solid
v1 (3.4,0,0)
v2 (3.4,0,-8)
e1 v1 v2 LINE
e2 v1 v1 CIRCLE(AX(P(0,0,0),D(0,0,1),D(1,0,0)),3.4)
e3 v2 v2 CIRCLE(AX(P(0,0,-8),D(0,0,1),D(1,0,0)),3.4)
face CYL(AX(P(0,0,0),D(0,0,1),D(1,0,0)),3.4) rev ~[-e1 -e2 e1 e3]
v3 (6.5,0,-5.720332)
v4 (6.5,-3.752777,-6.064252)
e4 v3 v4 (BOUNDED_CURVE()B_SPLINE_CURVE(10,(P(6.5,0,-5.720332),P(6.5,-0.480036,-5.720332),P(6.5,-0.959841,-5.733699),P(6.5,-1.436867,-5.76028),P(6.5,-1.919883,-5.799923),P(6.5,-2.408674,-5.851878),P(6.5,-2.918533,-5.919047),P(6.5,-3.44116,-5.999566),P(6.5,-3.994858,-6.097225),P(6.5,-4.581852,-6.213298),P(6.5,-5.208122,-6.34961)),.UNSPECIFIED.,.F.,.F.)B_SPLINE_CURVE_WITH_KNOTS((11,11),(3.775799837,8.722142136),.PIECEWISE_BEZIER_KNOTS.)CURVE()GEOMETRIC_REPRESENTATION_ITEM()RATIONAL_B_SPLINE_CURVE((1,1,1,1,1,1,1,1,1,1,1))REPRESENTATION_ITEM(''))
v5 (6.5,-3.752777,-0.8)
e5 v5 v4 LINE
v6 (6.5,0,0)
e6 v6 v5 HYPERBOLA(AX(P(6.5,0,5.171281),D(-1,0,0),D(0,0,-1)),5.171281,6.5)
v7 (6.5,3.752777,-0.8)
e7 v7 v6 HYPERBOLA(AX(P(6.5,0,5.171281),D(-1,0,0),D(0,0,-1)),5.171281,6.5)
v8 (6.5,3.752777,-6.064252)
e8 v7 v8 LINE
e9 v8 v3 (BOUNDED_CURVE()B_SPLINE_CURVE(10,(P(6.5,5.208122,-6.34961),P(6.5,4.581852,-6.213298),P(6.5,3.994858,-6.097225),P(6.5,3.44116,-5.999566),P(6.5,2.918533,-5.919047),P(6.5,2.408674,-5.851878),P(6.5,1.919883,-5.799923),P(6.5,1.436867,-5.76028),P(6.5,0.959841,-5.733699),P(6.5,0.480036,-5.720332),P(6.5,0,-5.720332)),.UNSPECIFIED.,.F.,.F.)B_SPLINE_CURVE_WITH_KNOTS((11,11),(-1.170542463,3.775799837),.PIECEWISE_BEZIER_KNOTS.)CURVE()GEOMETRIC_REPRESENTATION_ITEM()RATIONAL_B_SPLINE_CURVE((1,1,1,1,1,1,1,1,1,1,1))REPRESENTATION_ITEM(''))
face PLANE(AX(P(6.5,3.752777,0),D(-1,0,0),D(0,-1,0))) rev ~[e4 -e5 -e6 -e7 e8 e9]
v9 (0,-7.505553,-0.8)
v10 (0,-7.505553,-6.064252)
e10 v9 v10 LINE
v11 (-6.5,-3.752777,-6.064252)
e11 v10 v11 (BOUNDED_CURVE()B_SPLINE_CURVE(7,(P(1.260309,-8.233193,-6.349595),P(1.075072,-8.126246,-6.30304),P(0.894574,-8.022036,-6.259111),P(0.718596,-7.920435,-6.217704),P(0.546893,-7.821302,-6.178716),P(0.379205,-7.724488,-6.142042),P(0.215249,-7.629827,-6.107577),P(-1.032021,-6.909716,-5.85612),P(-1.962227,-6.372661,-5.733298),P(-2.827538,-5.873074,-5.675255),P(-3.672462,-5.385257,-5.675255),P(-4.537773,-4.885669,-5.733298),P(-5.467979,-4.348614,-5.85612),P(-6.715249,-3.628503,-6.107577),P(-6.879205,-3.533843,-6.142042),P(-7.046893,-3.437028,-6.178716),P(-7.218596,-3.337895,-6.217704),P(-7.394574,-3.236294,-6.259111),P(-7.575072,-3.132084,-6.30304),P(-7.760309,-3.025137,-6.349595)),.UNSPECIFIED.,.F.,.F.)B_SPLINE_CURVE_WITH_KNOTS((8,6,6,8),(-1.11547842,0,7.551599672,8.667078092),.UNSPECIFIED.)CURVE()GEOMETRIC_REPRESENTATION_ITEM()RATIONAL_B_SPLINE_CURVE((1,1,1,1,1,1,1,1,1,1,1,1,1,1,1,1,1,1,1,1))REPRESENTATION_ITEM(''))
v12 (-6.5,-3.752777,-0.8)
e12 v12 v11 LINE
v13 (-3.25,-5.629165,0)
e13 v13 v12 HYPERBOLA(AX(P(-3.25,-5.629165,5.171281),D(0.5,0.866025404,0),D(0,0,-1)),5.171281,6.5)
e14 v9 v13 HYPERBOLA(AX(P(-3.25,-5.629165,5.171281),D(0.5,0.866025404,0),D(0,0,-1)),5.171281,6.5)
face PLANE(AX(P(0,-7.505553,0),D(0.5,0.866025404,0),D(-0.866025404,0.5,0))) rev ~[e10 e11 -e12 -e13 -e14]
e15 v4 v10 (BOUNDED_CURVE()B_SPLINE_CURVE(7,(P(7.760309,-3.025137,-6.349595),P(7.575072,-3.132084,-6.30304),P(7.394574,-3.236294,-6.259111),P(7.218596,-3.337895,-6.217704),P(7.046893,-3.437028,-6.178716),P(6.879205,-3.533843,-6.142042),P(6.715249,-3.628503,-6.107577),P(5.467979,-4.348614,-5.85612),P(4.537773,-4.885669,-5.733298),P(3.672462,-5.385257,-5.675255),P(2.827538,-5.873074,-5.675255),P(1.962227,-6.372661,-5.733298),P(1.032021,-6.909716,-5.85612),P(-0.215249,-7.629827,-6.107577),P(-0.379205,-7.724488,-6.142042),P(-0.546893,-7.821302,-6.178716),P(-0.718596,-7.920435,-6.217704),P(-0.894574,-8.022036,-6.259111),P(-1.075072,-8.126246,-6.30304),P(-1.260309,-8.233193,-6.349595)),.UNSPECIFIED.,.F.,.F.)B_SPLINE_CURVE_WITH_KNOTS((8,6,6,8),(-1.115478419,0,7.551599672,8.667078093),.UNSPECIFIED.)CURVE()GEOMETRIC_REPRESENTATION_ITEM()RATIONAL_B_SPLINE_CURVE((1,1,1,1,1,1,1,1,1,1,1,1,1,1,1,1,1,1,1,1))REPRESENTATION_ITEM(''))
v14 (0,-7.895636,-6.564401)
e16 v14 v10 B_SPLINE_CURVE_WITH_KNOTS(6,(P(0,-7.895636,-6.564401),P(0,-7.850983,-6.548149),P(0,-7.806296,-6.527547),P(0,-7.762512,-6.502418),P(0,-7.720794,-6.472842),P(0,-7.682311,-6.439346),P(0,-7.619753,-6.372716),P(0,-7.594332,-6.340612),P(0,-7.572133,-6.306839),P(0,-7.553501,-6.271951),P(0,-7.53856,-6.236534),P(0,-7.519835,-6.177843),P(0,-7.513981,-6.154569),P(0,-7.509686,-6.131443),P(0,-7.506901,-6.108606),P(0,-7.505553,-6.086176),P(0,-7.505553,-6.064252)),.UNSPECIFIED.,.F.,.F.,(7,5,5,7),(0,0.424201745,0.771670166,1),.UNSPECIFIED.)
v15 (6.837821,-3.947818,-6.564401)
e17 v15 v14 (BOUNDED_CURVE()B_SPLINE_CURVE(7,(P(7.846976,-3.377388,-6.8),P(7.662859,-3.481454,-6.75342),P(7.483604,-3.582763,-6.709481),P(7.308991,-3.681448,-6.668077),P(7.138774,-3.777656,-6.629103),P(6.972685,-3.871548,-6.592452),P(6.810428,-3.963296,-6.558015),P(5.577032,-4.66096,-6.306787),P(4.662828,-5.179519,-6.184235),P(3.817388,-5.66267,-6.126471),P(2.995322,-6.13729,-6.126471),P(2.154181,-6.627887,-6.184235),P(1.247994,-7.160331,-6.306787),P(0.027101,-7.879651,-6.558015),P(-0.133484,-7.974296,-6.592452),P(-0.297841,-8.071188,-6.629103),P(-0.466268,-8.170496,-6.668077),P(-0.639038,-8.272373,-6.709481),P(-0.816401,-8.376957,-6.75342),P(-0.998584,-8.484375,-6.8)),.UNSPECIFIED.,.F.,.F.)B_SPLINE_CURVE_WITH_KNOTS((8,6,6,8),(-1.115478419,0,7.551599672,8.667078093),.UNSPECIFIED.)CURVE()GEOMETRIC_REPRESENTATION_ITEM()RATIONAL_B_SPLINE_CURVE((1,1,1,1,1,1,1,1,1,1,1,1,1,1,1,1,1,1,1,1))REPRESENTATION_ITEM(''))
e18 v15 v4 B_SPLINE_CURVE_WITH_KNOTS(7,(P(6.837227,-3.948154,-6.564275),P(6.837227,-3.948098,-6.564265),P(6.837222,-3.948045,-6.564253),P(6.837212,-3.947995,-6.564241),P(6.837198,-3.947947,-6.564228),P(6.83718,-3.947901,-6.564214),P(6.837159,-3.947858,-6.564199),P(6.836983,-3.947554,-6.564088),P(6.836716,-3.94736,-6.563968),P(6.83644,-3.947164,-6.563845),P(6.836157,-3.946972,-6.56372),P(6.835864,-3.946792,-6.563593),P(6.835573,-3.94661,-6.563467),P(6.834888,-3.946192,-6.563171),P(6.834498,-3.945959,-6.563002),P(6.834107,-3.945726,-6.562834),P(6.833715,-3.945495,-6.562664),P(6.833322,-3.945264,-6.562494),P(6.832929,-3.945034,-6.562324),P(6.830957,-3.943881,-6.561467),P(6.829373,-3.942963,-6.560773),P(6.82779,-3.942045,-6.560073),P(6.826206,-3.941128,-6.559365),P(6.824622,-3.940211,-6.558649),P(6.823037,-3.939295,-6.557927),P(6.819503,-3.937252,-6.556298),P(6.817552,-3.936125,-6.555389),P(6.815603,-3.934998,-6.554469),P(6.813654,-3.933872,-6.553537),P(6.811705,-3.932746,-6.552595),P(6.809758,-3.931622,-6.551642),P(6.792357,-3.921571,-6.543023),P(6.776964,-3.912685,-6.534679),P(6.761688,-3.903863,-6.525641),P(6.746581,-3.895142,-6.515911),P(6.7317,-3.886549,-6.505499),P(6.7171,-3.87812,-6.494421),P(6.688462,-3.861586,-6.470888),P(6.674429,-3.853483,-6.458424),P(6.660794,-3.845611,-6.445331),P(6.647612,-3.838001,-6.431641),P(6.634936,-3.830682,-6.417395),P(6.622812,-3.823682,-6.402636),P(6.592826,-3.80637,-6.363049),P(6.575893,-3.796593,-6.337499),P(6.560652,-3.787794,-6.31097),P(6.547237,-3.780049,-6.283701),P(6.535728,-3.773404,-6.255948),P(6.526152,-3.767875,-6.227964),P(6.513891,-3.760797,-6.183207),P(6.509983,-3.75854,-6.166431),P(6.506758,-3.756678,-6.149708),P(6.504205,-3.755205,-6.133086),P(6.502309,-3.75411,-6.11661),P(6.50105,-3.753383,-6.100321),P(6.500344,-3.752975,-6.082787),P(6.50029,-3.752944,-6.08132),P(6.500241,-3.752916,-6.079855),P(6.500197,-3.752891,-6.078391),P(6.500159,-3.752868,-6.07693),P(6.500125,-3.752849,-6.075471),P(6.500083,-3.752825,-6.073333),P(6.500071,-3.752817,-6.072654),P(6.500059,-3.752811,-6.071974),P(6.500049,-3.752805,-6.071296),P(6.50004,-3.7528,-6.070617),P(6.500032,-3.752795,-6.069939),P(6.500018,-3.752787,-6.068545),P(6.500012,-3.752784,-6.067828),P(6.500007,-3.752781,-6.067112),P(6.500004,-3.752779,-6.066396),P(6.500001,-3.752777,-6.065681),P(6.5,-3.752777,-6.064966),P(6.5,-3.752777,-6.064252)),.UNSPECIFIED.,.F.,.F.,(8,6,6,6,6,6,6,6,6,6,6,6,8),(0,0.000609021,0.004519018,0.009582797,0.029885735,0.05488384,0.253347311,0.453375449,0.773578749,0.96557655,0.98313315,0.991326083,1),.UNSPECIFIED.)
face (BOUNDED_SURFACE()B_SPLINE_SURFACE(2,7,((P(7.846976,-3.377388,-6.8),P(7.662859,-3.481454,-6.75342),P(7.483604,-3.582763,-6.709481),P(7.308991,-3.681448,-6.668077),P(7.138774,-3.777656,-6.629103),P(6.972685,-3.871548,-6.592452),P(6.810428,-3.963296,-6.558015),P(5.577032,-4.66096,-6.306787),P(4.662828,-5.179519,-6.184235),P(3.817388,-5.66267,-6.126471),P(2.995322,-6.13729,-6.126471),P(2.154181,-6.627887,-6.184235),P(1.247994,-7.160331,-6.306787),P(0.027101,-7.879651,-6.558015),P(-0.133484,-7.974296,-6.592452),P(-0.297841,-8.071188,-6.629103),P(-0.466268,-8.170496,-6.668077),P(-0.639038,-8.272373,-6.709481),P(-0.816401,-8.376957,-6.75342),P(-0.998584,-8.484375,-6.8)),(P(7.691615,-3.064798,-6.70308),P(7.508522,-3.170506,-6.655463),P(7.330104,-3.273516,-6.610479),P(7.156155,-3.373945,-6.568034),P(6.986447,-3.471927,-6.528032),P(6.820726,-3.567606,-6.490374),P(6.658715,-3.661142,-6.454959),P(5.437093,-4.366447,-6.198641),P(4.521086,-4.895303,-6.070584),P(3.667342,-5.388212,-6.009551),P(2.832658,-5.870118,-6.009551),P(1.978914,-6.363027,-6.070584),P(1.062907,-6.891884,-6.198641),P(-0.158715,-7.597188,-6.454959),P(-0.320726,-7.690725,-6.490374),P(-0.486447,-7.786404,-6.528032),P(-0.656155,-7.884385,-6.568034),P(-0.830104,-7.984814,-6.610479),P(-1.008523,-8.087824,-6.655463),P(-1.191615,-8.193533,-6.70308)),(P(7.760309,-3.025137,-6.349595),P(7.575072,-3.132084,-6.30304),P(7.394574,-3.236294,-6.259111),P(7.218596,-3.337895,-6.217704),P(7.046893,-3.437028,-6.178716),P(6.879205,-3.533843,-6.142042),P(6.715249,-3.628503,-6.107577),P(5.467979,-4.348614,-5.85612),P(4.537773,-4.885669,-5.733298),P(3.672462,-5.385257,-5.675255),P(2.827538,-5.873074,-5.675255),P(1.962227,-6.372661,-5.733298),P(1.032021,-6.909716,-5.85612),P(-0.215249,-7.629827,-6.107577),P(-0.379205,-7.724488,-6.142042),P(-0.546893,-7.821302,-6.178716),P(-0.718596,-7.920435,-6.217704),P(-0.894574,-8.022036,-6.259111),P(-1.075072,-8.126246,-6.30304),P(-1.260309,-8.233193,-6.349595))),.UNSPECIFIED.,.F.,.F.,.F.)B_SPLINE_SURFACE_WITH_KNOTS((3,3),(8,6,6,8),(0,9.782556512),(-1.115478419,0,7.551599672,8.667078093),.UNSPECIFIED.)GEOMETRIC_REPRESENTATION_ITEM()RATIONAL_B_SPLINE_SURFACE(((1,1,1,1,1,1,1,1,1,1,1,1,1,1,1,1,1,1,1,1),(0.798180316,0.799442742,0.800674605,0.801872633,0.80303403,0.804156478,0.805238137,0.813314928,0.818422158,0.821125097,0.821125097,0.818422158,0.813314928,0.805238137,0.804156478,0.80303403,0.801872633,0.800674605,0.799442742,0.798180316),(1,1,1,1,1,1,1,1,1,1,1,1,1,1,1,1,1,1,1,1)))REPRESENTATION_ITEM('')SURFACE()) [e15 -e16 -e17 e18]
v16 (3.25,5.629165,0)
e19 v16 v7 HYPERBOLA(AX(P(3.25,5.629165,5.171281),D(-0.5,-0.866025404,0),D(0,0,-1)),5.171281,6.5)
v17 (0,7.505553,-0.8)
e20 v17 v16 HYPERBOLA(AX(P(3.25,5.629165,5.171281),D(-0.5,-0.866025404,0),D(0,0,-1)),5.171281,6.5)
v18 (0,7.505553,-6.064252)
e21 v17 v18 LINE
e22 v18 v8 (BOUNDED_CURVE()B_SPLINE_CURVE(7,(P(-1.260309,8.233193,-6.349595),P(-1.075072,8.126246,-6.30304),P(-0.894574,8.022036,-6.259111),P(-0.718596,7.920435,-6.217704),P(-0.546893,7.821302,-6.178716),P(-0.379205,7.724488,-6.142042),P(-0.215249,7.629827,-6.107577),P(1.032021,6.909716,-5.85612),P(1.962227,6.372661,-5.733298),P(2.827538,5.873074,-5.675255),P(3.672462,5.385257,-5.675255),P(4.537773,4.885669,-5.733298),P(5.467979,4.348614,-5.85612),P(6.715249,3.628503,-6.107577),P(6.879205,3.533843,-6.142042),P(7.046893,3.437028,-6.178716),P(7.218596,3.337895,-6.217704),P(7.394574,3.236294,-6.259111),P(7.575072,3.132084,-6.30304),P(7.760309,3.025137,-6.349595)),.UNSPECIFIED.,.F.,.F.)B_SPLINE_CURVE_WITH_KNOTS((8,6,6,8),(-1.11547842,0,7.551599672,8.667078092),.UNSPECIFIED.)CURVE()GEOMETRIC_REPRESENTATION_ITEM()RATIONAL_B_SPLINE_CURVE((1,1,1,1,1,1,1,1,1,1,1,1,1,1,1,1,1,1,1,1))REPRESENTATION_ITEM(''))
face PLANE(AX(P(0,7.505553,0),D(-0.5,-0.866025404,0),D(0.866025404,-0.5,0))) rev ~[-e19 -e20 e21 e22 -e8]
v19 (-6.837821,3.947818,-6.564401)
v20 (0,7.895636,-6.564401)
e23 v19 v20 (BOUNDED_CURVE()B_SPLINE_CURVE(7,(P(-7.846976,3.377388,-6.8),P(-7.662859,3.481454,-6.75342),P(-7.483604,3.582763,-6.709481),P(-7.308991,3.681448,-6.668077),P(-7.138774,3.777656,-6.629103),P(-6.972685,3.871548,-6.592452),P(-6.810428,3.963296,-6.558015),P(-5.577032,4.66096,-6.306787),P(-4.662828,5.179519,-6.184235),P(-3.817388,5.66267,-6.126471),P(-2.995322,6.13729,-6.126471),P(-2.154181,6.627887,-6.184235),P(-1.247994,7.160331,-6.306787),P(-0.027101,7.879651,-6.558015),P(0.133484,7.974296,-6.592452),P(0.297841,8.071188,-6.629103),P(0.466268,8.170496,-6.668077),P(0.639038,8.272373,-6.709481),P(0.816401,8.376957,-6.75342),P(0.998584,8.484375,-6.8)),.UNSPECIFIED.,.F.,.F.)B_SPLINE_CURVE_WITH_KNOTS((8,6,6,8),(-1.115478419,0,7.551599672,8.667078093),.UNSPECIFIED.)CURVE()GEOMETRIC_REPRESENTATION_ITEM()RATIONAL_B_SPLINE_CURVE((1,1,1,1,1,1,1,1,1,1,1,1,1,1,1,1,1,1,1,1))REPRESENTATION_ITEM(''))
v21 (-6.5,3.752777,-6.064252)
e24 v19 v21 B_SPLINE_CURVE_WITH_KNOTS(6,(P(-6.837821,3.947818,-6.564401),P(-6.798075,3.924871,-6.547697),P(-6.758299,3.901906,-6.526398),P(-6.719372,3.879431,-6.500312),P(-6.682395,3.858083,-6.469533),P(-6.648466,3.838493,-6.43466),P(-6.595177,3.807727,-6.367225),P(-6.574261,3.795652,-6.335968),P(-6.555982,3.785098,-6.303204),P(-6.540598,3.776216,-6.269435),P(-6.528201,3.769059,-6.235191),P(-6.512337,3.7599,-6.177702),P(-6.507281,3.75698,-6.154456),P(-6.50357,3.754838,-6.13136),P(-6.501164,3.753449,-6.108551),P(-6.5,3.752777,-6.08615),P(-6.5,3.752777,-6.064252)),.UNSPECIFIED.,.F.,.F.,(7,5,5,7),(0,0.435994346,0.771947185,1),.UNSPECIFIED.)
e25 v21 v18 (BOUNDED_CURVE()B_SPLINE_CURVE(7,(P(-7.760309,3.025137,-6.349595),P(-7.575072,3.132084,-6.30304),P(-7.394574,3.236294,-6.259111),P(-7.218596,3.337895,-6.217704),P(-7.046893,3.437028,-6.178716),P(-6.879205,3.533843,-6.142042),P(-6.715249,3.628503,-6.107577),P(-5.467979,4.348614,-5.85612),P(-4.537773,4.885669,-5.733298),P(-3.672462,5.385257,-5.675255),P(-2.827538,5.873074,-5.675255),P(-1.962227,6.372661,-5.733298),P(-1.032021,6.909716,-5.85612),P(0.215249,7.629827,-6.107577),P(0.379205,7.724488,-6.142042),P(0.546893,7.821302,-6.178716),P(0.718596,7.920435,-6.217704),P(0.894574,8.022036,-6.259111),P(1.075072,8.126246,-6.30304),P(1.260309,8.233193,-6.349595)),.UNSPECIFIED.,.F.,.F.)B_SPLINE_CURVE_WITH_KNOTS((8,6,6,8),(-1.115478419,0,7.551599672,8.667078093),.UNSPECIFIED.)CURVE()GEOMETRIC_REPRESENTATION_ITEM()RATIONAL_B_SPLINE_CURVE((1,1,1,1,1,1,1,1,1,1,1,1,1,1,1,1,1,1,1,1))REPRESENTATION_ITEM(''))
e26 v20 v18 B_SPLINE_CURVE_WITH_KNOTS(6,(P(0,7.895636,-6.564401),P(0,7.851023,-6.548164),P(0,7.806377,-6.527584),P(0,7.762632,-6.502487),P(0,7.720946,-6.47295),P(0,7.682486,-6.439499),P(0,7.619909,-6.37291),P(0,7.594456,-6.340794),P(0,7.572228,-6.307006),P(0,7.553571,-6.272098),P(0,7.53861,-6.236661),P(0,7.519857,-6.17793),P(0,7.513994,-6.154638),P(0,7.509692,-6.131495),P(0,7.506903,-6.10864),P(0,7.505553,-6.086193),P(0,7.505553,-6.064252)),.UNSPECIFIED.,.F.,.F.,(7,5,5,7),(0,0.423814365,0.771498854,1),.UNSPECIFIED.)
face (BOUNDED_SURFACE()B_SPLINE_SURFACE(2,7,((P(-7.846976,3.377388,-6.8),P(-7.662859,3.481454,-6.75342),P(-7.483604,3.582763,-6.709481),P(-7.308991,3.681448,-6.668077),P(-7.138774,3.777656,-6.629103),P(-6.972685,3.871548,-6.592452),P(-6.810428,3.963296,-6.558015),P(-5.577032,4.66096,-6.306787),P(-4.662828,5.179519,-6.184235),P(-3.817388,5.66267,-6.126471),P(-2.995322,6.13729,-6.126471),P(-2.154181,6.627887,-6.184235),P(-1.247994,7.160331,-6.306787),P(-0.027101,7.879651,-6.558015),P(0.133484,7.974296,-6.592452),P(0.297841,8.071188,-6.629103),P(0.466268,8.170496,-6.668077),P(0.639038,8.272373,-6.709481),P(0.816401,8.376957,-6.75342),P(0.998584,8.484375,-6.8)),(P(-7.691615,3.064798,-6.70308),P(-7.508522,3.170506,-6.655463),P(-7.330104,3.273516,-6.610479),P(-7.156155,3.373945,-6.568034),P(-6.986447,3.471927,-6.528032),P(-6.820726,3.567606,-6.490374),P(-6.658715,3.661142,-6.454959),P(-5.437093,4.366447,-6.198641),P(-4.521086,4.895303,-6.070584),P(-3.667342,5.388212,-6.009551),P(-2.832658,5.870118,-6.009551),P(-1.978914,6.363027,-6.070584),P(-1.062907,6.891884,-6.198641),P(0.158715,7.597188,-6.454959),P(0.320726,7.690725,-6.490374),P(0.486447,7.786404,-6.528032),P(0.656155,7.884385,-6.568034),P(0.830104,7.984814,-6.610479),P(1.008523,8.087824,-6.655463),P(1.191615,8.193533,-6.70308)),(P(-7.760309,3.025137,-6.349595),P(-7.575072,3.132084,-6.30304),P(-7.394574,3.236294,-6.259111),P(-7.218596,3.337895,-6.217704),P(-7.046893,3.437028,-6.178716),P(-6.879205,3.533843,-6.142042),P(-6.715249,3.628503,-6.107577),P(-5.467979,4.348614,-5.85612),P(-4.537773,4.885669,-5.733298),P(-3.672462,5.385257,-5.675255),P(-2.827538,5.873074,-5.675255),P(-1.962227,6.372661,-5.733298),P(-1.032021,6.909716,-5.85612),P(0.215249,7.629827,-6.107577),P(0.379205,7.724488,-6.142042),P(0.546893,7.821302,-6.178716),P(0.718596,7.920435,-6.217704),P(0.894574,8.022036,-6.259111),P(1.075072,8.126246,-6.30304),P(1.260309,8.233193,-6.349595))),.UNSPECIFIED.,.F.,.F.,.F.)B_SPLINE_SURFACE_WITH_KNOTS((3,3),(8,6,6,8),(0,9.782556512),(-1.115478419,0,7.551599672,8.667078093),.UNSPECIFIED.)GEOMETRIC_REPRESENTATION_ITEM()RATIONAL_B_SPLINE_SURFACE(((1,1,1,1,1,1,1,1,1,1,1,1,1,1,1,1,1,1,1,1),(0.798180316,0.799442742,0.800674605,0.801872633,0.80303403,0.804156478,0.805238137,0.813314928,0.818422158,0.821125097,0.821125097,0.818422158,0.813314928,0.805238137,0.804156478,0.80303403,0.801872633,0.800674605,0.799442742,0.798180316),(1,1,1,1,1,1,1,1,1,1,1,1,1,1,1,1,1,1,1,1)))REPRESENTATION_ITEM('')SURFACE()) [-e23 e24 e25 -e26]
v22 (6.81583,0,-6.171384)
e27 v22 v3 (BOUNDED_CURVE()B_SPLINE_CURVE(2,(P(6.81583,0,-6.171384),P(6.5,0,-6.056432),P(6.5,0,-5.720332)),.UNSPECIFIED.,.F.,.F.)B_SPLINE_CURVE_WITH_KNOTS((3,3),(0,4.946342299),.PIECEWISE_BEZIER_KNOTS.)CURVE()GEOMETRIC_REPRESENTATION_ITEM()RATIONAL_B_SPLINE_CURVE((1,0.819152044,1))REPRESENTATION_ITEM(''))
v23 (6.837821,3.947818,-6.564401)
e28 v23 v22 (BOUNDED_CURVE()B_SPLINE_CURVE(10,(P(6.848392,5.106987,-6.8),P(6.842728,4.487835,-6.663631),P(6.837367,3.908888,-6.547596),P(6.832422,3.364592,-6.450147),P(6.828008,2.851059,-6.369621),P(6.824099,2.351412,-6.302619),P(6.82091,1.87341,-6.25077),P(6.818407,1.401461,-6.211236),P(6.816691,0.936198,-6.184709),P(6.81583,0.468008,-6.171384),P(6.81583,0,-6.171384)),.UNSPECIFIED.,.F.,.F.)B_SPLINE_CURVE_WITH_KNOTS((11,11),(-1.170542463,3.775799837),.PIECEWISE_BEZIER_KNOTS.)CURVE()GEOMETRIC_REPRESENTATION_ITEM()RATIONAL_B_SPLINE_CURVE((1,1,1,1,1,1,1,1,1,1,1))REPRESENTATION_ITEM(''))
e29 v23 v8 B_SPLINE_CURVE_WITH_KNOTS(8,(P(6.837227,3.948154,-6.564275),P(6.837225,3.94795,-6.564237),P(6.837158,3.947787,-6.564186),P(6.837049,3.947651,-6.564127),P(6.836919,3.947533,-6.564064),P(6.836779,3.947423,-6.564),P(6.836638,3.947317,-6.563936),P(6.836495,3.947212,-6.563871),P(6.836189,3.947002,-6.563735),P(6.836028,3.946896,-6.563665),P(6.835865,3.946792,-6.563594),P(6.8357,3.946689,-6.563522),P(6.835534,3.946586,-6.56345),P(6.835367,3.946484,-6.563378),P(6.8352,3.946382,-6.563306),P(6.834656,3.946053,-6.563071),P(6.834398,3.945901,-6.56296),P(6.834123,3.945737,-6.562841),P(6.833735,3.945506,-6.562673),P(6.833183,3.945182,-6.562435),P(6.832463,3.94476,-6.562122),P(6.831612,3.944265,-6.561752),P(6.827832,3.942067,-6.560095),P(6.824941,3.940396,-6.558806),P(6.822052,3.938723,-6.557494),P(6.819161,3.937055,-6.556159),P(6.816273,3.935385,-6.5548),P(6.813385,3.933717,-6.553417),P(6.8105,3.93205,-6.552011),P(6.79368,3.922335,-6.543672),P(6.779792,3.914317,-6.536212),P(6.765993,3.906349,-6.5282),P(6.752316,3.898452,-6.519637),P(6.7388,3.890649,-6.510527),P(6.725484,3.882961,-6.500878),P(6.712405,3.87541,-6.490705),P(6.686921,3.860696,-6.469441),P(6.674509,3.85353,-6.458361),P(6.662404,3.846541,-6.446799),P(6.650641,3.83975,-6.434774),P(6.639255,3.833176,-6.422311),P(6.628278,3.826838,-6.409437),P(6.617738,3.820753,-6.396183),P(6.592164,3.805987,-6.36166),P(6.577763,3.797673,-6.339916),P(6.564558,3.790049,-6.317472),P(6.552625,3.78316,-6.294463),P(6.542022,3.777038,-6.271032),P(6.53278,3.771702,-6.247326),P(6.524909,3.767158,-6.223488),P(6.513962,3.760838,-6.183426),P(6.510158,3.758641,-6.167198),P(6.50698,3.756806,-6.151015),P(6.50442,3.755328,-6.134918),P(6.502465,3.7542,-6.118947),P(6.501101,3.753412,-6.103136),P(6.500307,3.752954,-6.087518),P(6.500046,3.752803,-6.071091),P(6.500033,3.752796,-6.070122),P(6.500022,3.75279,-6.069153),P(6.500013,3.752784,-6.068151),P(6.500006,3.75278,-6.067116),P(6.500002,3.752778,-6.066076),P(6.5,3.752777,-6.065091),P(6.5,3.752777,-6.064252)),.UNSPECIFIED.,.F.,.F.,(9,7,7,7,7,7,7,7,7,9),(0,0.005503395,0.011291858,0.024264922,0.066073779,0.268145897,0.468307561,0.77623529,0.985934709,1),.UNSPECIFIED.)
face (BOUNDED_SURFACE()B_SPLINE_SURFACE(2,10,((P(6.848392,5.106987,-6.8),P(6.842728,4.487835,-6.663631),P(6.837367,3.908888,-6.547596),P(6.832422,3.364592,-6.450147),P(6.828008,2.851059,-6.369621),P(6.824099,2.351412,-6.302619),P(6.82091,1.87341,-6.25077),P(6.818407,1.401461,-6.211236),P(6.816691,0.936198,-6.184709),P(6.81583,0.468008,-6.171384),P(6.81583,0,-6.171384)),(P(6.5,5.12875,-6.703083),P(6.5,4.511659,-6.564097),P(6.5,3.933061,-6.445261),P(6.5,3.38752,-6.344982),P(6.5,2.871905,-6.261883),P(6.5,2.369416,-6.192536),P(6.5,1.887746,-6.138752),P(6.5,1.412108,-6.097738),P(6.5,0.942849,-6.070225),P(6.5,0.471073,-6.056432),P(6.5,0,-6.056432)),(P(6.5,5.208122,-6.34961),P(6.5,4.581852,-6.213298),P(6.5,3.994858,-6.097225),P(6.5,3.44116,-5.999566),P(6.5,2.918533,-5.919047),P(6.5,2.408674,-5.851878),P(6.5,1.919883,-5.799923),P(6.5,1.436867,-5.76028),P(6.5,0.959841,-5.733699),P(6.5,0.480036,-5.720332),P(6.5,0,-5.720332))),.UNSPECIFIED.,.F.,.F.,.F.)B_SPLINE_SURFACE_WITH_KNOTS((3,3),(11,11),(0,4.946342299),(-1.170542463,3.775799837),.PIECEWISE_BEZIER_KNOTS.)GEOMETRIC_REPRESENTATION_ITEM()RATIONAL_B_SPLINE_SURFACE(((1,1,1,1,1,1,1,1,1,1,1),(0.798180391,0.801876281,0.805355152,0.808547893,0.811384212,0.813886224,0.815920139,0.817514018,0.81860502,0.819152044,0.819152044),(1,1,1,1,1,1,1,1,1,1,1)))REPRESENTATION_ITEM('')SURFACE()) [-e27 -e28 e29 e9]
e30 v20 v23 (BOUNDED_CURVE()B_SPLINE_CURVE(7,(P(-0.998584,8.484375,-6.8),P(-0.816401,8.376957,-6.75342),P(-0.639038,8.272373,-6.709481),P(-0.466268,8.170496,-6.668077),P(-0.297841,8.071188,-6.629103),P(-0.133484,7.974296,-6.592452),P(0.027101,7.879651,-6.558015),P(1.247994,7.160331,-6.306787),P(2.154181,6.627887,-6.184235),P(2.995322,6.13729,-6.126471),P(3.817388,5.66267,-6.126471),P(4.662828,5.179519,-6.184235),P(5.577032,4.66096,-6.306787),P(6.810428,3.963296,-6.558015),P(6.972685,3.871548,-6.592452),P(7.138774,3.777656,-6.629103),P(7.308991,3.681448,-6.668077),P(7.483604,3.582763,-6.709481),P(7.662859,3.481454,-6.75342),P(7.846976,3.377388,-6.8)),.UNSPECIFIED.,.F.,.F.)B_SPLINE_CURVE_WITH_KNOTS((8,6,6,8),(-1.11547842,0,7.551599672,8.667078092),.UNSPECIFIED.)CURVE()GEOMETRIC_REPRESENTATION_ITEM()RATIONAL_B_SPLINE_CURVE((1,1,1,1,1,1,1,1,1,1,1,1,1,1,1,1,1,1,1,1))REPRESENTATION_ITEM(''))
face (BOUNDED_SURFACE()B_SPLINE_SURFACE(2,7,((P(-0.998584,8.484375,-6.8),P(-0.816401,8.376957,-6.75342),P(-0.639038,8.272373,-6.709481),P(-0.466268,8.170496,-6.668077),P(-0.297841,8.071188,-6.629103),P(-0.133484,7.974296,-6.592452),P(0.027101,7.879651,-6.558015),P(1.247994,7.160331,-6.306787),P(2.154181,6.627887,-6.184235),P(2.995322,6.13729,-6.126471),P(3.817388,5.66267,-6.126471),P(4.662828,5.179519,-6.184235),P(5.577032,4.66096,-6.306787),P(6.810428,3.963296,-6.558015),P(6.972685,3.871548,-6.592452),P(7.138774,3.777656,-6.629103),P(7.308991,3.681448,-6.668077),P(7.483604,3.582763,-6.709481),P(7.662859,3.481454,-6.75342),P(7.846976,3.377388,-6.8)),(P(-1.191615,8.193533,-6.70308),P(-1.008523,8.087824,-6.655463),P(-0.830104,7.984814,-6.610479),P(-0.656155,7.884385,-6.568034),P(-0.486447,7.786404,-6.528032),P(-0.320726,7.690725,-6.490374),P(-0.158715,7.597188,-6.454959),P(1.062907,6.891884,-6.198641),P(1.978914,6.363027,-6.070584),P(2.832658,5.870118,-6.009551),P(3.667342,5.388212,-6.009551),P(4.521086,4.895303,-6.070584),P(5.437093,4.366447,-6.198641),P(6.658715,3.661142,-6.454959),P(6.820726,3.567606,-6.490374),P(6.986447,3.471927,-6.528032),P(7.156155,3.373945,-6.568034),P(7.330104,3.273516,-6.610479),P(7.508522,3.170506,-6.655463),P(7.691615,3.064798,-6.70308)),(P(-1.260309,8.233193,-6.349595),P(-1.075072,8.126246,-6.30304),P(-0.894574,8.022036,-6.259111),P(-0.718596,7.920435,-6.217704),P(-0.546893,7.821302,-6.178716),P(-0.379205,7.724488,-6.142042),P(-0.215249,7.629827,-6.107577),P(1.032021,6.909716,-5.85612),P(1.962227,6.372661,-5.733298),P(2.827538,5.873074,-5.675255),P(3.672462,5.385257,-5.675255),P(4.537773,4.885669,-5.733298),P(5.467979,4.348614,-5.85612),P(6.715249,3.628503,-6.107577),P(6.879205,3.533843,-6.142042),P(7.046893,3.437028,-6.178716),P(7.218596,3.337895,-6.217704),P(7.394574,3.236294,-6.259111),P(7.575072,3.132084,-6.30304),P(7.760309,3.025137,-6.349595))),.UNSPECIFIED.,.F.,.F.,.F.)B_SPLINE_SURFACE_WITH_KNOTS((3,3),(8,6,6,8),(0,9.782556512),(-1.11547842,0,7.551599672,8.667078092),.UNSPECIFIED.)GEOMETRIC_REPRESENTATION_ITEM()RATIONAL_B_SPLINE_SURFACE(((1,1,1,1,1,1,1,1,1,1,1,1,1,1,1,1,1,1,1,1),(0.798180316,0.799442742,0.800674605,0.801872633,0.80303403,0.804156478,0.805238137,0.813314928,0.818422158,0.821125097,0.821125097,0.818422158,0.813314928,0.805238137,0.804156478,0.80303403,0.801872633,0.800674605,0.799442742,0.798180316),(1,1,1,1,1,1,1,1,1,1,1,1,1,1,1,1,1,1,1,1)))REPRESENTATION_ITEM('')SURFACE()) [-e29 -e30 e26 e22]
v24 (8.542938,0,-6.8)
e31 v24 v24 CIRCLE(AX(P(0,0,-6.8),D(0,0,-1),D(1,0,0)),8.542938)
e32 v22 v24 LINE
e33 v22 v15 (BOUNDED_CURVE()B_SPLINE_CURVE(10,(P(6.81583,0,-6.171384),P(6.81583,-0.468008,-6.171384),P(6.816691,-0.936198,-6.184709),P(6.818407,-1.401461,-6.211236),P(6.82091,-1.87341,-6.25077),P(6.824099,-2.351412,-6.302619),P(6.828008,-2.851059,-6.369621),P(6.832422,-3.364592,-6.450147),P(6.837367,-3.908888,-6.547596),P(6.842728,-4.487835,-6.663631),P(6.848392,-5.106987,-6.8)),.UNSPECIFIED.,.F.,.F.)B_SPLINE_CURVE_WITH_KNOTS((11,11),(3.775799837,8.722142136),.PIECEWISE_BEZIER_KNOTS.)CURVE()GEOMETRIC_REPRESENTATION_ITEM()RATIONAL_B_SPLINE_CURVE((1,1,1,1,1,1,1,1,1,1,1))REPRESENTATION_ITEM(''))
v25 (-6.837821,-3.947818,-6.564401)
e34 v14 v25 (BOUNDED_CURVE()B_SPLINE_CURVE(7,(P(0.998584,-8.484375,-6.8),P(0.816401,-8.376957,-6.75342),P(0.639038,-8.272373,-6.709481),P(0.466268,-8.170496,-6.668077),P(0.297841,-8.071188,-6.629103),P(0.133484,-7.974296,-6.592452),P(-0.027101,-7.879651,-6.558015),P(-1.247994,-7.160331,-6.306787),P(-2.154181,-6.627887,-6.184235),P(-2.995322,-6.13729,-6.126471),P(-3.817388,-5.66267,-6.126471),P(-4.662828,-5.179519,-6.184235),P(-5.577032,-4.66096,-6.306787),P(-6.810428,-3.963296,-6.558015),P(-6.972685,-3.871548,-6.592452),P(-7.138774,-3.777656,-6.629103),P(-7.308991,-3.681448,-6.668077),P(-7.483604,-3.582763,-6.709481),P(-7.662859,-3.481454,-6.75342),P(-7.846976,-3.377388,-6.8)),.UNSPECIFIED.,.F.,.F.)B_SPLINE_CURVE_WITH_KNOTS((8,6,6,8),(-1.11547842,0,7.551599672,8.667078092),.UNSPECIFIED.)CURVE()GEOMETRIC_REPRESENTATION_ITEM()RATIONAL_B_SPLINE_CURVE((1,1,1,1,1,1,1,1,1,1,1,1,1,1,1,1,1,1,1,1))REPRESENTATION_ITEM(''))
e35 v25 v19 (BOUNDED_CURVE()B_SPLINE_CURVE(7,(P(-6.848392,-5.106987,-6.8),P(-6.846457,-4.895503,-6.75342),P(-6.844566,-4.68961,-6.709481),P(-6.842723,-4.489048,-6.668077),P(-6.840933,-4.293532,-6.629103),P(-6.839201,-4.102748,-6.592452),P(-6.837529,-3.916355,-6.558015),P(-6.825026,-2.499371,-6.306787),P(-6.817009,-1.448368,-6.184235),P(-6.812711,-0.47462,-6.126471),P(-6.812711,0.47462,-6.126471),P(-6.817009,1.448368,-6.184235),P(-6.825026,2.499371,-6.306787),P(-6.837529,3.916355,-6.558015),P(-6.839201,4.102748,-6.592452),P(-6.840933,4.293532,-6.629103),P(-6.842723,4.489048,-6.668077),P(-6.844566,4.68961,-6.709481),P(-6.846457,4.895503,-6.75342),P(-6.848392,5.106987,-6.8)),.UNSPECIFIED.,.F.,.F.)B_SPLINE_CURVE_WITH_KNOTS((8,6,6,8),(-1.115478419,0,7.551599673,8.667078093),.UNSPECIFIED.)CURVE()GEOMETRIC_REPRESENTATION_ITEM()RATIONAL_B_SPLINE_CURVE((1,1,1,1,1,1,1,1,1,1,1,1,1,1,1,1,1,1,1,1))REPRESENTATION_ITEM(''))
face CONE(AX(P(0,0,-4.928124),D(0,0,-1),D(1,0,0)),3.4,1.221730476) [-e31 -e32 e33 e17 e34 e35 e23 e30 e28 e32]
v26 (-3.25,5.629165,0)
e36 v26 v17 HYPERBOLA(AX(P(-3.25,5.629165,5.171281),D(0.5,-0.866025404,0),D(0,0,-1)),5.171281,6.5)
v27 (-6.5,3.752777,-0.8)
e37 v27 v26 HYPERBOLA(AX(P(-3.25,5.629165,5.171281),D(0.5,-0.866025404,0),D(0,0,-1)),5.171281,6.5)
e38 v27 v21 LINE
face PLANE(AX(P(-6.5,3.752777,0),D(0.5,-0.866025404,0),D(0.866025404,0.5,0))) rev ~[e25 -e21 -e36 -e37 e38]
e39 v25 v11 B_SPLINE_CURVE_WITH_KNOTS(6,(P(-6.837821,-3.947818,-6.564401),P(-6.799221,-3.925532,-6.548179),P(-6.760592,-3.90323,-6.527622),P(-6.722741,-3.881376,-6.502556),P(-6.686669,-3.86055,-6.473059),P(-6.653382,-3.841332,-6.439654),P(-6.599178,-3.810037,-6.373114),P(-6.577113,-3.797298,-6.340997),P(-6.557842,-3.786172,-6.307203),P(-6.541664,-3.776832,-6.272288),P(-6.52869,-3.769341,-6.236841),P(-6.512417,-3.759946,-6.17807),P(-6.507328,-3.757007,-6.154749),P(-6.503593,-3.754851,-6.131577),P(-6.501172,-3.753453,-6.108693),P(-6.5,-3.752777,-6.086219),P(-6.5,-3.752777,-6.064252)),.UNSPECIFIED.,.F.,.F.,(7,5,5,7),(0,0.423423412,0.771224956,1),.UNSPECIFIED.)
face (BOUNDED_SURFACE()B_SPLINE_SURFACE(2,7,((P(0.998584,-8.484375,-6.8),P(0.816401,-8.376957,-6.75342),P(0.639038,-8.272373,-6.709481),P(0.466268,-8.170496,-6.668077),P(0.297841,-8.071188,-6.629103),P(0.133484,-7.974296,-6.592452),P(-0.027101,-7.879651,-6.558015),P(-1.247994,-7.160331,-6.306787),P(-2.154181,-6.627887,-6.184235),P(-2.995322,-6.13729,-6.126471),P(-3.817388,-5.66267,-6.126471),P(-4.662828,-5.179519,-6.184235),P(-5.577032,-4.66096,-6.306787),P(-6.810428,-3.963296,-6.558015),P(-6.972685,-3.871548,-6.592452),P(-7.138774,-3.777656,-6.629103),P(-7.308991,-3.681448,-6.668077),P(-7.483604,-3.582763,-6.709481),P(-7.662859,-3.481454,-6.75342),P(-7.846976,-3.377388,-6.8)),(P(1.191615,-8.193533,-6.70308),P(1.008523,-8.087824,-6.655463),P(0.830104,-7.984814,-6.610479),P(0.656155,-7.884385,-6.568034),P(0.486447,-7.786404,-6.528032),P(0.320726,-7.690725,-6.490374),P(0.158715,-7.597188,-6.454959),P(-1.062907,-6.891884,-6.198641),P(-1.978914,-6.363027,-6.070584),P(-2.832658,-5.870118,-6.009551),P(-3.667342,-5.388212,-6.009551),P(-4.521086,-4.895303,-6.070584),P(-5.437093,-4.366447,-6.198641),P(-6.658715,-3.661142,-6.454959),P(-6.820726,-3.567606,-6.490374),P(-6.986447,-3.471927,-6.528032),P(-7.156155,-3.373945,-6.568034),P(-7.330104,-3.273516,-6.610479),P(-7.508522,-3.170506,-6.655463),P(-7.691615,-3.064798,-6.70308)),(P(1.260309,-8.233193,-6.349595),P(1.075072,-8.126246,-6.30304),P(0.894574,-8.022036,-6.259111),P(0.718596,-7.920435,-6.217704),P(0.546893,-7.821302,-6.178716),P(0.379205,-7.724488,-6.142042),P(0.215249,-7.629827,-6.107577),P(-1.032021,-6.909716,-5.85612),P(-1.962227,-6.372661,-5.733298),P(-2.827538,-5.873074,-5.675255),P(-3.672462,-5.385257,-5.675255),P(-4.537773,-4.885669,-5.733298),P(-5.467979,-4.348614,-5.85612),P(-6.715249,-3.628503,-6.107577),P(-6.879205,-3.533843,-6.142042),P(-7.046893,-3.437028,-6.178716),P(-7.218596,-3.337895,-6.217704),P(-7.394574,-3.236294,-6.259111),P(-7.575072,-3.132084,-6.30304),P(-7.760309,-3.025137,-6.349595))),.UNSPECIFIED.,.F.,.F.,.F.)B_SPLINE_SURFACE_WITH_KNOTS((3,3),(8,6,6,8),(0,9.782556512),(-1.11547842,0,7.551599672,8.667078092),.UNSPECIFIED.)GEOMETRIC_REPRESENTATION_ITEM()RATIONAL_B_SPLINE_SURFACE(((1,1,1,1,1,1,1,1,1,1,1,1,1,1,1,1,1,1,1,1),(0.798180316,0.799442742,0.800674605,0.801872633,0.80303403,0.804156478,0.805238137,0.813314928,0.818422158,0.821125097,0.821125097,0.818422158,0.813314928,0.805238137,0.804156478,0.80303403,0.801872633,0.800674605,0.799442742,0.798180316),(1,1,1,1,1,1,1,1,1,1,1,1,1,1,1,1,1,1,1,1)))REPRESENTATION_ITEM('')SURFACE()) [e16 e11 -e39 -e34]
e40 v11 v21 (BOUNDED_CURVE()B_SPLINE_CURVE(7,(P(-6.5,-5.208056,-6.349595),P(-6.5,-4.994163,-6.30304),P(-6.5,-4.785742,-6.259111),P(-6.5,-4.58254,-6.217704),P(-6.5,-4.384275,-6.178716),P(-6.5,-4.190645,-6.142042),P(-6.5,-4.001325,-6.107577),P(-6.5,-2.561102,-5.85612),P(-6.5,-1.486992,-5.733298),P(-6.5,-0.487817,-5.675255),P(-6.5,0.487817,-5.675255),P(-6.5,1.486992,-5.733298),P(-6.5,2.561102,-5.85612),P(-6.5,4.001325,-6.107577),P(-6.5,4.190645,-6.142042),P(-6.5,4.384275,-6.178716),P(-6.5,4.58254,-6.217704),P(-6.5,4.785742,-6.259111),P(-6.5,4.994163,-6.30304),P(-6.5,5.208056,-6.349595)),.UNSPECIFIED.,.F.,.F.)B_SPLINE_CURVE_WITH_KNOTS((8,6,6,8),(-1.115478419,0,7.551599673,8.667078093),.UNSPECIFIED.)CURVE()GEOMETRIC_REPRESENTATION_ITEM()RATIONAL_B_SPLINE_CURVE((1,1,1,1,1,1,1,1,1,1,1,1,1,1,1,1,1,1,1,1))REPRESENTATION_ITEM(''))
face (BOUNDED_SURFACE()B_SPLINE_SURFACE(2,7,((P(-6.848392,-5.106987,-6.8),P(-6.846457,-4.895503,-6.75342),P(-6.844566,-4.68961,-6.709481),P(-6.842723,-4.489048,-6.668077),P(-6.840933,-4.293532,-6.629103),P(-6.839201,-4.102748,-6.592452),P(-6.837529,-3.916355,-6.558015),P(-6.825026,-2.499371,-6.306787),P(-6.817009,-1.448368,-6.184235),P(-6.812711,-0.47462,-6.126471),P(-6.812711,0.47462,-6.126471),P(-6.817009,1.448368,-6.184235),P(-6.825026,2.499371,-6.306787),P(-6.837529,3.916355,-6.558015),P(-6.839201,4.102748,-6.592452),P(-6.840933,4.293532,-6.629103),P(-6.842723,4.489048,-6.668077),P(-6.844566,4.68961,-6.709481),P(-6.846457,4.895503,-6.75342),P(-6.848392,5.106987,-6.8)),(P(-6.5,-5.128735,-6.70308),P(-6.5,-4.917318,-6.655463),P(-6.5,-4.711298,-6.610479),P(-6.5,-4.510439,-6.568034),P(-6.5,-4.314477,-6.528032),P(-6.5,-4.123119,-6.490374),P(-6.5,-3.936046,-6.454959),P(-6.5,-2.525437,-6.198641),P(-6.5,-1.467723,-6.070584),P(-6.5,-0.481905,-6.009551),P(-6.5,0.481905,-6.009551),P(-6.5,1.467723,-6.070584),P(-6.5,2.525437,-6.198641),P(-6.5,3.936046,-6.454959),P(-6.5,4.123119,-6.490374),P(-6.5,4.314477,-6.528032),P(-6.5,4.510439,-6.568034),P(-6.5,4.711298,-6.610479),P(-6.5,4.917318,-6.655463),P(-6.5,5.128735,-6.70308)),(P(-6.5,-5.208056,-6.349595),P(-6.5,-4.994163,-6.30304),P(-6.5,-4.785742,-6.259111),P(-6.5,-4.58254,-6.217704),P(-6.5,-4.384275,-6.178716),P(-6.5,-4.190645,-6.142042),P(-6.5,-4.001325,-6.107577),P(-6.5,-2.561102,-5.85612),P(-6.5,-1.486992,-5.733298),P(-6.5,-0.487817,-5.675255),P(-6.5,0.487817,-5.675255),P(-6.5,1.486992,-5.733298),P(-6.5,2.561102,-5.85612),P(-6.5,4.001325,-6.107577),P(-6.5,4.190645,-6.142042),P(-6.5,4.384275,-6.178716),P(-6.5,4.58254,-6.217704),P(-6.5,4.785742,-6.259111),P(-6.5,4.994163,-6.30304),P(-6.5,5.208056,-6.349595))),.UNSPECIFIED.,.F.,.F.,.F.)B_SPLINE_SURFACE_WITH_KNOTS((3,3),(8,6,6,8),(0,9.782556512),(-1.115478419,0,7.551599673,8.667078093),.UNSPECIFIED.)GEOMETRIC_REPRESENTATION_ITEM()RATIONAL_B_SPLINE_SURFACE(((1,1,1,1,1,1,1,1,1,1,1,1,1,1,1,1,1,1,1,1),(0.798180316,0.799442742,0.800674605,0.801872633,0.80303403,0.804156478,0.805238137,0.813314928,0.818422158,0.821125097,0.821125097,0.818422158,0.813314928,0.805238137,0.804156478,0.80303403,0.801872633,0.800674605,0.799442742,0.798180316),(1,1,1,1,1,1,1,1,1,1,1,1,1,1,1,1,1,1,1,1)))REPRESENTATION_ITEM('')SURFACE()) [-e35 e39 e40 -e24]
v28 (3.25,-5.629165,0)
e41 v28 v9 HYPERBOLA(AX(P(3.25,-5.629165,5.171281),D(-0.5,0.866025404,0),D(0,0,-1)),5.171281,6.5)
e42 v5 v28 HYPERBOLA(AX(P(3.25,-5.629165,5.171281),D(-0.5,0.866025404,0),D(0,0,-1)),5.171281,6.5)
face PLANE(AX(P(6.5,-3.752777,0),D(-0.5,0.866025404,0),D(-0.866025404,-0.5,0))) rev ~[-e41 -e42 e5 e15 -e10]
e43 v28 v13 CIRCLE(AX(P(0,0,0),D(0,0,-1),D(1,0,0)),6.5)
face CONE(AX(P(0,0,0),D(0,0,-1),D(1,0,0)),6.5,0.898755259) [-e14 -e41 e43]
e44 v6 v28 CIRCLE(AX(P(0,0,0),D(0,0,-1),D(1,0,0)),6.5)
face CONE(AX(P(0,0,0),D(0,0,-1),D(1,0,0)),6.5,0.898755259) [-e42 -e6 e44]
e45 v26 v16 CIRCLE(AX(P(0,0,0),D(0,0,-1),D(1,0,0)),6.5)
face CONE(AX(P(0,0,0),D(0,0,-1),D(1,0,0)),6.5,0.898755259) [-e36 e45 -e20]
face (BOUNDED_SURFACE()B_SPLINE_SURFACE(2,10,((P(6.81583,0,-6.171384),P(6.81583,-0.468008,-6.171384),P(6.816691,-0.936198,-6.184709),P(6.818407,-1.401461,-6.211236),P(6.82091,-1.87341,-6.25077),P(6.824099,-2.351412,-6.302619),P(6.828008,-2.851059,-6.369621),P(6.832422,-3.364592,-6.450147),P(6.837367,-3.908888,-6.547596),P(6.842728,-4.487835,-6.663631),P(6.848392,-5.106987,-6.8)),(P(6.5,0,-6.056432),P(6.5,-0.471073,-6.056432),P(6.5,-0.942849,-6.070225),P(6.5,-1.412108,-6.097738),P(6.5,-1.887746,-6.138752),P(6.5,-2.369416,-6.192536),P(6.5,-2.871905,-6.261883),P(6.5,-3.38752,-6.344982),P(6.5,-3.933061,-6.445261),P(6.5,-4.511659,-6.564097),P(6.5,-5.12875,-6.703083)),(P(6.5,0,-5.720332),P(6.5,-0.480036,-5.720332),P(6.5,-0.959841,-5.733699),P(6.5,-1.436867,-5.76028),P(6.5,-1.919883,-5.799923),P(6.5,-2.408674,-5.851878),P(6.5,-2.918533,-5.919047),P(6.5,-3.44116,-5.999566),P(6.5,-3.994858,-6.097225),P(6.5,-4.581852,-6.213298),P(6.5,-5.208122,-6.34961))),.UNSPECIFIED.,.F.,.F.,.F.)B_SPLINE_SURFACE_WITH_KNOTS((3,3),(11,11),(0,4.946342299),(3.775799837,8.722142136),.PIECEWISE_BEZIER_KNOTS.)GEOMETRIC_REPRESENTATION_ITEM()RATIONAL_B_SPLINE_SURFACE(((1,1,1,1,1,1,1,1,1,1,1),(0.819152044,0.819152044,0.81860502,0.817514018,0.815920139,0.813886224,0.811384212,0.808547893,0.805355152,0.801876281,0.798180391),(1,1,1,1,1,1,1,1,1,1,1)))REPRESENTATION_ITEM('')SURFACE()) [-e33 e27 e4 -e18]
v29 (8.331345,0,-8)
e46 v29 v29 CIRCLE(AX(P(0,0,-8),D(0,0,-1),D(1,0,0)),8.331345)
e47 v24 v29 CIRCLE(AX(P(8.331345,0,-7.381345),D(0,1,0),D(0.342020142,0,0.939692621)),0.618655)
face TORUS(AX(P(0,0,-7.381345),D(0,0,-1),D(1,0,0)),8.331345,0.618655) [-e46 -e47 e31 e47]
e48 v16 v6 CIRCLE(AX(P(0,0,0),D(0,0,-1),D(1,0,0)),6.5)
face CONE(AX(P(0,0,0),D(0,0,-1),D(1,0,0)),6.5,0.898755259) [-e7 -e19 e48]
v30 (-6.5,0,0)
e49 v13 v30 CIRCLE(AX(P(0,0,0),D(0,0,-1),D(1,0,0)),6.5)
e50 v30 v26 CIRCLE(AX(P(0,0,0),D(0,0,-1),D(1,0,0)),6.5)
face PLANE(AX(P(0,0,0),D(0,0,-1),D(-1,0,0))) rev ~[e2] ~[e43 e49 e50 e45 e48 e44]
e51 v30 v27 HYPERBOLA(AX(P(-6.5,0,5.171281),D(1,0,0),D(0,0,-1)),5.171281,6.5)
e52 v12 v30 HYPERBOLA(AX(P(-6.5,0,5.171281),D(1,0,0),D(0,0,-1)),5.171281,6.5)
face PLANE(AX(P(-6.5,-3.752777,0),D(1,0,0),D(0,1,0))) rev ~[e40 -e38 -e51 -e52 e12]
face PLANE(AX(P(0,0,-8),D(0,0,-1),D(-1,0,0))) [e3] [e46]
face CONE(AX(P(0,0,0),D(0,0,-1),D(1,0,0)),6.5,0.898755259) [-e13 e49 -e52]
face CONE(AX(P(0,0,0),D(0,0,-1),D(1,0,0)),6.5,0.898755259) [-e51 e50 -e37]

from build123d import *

# Parameters (mm, degrees)
BASENUTSKE_R   = 3.4
BASENUT_DEPTH  = 8
FLANGEFILLET_R = 0.48


with BuildPart() as part:
    # BaseNutSke → BaseNut (new body)
    with BuildSketch(Plane.XY):
        Polygon((6.5, 3.75277675), (6.5, -3.75277675), (0, -7.505553499), (-6.5, -3.75277675), (-6.5, 3.75277675), (0, 7.505553499), align=None)
        Circle(BASENUTSKE_R, mode=Mode.SUBTRACT)
    extrude(amount=-BASENUT_DEPTH)

    # Sketch6 → Flange (revolve)
    with BuildSketch(Plane(origin=(0, 0, 0), x_dir=(0, 0, -1), z_dir=(1, 0, 0)), mode=Mode.PRIVATE) as flange_sk:
        with BuildLine():
            Line((4.928123777, 3.4), (6.8, 8.542937654))
            ThreePointArc((6.8, 8.542937654), (7.488773543, 8.940601245), (8, 8.331345278))
            Line((8, 8.331345278), (8, 3.4))
            Line((8, 3.4), (4.928123777, 3.4))
        make_face()
    revolve(flange_sk.sketch.rotate(Axis((0, 0, 0), (0, 0, -1)), 90), axis=Axis((0, 0, 0), (0, 0, -1)))

    # Sketch3 → Double-Chamfer (revolve, cut)
    with BuildSketch(Plane(origin=(0, 0, 0), x_dir=(0, 0, -1), z_dir=(1, 0, 0)), mode=Mode.PRIVATE) as double_chamfer_sk:
        Polygon((0.8, 20.205553499), (-12.7, 20.205553499), (-12.7, 6.5), (0, 6.5), (0.8, 7.505553499), align=None)
    revolve(double_chamfer_sk.sketch.rotate(Axis((0, 0, 0), (0, 0, -1)), 90), axis=Axis((0, 0, 0), (0, 0, -1)), mode=Mode.SUBTRACT)

    # FlangeFillet
    flangefillet_edges = [part.edges().sort_by_distance(p)[0] for p in [
        (6.5, -1.884573791, -6.153862438),
        (6.5, 1.884573791, -6.153862438),
        (3.25, -5.629165125, -6.056431503),
        (3.25, 5.629165125, -6.056431503),
        (-3.25, 5.629165125, -6.056431503),
        (-6.5, 0, -6.056431503),
        (-3.25, -5.629165125, -6.056431503),
    ]]
    fillet(flangefillet_edges, radius=FLANGEFILLET_R)


solid = part.part
